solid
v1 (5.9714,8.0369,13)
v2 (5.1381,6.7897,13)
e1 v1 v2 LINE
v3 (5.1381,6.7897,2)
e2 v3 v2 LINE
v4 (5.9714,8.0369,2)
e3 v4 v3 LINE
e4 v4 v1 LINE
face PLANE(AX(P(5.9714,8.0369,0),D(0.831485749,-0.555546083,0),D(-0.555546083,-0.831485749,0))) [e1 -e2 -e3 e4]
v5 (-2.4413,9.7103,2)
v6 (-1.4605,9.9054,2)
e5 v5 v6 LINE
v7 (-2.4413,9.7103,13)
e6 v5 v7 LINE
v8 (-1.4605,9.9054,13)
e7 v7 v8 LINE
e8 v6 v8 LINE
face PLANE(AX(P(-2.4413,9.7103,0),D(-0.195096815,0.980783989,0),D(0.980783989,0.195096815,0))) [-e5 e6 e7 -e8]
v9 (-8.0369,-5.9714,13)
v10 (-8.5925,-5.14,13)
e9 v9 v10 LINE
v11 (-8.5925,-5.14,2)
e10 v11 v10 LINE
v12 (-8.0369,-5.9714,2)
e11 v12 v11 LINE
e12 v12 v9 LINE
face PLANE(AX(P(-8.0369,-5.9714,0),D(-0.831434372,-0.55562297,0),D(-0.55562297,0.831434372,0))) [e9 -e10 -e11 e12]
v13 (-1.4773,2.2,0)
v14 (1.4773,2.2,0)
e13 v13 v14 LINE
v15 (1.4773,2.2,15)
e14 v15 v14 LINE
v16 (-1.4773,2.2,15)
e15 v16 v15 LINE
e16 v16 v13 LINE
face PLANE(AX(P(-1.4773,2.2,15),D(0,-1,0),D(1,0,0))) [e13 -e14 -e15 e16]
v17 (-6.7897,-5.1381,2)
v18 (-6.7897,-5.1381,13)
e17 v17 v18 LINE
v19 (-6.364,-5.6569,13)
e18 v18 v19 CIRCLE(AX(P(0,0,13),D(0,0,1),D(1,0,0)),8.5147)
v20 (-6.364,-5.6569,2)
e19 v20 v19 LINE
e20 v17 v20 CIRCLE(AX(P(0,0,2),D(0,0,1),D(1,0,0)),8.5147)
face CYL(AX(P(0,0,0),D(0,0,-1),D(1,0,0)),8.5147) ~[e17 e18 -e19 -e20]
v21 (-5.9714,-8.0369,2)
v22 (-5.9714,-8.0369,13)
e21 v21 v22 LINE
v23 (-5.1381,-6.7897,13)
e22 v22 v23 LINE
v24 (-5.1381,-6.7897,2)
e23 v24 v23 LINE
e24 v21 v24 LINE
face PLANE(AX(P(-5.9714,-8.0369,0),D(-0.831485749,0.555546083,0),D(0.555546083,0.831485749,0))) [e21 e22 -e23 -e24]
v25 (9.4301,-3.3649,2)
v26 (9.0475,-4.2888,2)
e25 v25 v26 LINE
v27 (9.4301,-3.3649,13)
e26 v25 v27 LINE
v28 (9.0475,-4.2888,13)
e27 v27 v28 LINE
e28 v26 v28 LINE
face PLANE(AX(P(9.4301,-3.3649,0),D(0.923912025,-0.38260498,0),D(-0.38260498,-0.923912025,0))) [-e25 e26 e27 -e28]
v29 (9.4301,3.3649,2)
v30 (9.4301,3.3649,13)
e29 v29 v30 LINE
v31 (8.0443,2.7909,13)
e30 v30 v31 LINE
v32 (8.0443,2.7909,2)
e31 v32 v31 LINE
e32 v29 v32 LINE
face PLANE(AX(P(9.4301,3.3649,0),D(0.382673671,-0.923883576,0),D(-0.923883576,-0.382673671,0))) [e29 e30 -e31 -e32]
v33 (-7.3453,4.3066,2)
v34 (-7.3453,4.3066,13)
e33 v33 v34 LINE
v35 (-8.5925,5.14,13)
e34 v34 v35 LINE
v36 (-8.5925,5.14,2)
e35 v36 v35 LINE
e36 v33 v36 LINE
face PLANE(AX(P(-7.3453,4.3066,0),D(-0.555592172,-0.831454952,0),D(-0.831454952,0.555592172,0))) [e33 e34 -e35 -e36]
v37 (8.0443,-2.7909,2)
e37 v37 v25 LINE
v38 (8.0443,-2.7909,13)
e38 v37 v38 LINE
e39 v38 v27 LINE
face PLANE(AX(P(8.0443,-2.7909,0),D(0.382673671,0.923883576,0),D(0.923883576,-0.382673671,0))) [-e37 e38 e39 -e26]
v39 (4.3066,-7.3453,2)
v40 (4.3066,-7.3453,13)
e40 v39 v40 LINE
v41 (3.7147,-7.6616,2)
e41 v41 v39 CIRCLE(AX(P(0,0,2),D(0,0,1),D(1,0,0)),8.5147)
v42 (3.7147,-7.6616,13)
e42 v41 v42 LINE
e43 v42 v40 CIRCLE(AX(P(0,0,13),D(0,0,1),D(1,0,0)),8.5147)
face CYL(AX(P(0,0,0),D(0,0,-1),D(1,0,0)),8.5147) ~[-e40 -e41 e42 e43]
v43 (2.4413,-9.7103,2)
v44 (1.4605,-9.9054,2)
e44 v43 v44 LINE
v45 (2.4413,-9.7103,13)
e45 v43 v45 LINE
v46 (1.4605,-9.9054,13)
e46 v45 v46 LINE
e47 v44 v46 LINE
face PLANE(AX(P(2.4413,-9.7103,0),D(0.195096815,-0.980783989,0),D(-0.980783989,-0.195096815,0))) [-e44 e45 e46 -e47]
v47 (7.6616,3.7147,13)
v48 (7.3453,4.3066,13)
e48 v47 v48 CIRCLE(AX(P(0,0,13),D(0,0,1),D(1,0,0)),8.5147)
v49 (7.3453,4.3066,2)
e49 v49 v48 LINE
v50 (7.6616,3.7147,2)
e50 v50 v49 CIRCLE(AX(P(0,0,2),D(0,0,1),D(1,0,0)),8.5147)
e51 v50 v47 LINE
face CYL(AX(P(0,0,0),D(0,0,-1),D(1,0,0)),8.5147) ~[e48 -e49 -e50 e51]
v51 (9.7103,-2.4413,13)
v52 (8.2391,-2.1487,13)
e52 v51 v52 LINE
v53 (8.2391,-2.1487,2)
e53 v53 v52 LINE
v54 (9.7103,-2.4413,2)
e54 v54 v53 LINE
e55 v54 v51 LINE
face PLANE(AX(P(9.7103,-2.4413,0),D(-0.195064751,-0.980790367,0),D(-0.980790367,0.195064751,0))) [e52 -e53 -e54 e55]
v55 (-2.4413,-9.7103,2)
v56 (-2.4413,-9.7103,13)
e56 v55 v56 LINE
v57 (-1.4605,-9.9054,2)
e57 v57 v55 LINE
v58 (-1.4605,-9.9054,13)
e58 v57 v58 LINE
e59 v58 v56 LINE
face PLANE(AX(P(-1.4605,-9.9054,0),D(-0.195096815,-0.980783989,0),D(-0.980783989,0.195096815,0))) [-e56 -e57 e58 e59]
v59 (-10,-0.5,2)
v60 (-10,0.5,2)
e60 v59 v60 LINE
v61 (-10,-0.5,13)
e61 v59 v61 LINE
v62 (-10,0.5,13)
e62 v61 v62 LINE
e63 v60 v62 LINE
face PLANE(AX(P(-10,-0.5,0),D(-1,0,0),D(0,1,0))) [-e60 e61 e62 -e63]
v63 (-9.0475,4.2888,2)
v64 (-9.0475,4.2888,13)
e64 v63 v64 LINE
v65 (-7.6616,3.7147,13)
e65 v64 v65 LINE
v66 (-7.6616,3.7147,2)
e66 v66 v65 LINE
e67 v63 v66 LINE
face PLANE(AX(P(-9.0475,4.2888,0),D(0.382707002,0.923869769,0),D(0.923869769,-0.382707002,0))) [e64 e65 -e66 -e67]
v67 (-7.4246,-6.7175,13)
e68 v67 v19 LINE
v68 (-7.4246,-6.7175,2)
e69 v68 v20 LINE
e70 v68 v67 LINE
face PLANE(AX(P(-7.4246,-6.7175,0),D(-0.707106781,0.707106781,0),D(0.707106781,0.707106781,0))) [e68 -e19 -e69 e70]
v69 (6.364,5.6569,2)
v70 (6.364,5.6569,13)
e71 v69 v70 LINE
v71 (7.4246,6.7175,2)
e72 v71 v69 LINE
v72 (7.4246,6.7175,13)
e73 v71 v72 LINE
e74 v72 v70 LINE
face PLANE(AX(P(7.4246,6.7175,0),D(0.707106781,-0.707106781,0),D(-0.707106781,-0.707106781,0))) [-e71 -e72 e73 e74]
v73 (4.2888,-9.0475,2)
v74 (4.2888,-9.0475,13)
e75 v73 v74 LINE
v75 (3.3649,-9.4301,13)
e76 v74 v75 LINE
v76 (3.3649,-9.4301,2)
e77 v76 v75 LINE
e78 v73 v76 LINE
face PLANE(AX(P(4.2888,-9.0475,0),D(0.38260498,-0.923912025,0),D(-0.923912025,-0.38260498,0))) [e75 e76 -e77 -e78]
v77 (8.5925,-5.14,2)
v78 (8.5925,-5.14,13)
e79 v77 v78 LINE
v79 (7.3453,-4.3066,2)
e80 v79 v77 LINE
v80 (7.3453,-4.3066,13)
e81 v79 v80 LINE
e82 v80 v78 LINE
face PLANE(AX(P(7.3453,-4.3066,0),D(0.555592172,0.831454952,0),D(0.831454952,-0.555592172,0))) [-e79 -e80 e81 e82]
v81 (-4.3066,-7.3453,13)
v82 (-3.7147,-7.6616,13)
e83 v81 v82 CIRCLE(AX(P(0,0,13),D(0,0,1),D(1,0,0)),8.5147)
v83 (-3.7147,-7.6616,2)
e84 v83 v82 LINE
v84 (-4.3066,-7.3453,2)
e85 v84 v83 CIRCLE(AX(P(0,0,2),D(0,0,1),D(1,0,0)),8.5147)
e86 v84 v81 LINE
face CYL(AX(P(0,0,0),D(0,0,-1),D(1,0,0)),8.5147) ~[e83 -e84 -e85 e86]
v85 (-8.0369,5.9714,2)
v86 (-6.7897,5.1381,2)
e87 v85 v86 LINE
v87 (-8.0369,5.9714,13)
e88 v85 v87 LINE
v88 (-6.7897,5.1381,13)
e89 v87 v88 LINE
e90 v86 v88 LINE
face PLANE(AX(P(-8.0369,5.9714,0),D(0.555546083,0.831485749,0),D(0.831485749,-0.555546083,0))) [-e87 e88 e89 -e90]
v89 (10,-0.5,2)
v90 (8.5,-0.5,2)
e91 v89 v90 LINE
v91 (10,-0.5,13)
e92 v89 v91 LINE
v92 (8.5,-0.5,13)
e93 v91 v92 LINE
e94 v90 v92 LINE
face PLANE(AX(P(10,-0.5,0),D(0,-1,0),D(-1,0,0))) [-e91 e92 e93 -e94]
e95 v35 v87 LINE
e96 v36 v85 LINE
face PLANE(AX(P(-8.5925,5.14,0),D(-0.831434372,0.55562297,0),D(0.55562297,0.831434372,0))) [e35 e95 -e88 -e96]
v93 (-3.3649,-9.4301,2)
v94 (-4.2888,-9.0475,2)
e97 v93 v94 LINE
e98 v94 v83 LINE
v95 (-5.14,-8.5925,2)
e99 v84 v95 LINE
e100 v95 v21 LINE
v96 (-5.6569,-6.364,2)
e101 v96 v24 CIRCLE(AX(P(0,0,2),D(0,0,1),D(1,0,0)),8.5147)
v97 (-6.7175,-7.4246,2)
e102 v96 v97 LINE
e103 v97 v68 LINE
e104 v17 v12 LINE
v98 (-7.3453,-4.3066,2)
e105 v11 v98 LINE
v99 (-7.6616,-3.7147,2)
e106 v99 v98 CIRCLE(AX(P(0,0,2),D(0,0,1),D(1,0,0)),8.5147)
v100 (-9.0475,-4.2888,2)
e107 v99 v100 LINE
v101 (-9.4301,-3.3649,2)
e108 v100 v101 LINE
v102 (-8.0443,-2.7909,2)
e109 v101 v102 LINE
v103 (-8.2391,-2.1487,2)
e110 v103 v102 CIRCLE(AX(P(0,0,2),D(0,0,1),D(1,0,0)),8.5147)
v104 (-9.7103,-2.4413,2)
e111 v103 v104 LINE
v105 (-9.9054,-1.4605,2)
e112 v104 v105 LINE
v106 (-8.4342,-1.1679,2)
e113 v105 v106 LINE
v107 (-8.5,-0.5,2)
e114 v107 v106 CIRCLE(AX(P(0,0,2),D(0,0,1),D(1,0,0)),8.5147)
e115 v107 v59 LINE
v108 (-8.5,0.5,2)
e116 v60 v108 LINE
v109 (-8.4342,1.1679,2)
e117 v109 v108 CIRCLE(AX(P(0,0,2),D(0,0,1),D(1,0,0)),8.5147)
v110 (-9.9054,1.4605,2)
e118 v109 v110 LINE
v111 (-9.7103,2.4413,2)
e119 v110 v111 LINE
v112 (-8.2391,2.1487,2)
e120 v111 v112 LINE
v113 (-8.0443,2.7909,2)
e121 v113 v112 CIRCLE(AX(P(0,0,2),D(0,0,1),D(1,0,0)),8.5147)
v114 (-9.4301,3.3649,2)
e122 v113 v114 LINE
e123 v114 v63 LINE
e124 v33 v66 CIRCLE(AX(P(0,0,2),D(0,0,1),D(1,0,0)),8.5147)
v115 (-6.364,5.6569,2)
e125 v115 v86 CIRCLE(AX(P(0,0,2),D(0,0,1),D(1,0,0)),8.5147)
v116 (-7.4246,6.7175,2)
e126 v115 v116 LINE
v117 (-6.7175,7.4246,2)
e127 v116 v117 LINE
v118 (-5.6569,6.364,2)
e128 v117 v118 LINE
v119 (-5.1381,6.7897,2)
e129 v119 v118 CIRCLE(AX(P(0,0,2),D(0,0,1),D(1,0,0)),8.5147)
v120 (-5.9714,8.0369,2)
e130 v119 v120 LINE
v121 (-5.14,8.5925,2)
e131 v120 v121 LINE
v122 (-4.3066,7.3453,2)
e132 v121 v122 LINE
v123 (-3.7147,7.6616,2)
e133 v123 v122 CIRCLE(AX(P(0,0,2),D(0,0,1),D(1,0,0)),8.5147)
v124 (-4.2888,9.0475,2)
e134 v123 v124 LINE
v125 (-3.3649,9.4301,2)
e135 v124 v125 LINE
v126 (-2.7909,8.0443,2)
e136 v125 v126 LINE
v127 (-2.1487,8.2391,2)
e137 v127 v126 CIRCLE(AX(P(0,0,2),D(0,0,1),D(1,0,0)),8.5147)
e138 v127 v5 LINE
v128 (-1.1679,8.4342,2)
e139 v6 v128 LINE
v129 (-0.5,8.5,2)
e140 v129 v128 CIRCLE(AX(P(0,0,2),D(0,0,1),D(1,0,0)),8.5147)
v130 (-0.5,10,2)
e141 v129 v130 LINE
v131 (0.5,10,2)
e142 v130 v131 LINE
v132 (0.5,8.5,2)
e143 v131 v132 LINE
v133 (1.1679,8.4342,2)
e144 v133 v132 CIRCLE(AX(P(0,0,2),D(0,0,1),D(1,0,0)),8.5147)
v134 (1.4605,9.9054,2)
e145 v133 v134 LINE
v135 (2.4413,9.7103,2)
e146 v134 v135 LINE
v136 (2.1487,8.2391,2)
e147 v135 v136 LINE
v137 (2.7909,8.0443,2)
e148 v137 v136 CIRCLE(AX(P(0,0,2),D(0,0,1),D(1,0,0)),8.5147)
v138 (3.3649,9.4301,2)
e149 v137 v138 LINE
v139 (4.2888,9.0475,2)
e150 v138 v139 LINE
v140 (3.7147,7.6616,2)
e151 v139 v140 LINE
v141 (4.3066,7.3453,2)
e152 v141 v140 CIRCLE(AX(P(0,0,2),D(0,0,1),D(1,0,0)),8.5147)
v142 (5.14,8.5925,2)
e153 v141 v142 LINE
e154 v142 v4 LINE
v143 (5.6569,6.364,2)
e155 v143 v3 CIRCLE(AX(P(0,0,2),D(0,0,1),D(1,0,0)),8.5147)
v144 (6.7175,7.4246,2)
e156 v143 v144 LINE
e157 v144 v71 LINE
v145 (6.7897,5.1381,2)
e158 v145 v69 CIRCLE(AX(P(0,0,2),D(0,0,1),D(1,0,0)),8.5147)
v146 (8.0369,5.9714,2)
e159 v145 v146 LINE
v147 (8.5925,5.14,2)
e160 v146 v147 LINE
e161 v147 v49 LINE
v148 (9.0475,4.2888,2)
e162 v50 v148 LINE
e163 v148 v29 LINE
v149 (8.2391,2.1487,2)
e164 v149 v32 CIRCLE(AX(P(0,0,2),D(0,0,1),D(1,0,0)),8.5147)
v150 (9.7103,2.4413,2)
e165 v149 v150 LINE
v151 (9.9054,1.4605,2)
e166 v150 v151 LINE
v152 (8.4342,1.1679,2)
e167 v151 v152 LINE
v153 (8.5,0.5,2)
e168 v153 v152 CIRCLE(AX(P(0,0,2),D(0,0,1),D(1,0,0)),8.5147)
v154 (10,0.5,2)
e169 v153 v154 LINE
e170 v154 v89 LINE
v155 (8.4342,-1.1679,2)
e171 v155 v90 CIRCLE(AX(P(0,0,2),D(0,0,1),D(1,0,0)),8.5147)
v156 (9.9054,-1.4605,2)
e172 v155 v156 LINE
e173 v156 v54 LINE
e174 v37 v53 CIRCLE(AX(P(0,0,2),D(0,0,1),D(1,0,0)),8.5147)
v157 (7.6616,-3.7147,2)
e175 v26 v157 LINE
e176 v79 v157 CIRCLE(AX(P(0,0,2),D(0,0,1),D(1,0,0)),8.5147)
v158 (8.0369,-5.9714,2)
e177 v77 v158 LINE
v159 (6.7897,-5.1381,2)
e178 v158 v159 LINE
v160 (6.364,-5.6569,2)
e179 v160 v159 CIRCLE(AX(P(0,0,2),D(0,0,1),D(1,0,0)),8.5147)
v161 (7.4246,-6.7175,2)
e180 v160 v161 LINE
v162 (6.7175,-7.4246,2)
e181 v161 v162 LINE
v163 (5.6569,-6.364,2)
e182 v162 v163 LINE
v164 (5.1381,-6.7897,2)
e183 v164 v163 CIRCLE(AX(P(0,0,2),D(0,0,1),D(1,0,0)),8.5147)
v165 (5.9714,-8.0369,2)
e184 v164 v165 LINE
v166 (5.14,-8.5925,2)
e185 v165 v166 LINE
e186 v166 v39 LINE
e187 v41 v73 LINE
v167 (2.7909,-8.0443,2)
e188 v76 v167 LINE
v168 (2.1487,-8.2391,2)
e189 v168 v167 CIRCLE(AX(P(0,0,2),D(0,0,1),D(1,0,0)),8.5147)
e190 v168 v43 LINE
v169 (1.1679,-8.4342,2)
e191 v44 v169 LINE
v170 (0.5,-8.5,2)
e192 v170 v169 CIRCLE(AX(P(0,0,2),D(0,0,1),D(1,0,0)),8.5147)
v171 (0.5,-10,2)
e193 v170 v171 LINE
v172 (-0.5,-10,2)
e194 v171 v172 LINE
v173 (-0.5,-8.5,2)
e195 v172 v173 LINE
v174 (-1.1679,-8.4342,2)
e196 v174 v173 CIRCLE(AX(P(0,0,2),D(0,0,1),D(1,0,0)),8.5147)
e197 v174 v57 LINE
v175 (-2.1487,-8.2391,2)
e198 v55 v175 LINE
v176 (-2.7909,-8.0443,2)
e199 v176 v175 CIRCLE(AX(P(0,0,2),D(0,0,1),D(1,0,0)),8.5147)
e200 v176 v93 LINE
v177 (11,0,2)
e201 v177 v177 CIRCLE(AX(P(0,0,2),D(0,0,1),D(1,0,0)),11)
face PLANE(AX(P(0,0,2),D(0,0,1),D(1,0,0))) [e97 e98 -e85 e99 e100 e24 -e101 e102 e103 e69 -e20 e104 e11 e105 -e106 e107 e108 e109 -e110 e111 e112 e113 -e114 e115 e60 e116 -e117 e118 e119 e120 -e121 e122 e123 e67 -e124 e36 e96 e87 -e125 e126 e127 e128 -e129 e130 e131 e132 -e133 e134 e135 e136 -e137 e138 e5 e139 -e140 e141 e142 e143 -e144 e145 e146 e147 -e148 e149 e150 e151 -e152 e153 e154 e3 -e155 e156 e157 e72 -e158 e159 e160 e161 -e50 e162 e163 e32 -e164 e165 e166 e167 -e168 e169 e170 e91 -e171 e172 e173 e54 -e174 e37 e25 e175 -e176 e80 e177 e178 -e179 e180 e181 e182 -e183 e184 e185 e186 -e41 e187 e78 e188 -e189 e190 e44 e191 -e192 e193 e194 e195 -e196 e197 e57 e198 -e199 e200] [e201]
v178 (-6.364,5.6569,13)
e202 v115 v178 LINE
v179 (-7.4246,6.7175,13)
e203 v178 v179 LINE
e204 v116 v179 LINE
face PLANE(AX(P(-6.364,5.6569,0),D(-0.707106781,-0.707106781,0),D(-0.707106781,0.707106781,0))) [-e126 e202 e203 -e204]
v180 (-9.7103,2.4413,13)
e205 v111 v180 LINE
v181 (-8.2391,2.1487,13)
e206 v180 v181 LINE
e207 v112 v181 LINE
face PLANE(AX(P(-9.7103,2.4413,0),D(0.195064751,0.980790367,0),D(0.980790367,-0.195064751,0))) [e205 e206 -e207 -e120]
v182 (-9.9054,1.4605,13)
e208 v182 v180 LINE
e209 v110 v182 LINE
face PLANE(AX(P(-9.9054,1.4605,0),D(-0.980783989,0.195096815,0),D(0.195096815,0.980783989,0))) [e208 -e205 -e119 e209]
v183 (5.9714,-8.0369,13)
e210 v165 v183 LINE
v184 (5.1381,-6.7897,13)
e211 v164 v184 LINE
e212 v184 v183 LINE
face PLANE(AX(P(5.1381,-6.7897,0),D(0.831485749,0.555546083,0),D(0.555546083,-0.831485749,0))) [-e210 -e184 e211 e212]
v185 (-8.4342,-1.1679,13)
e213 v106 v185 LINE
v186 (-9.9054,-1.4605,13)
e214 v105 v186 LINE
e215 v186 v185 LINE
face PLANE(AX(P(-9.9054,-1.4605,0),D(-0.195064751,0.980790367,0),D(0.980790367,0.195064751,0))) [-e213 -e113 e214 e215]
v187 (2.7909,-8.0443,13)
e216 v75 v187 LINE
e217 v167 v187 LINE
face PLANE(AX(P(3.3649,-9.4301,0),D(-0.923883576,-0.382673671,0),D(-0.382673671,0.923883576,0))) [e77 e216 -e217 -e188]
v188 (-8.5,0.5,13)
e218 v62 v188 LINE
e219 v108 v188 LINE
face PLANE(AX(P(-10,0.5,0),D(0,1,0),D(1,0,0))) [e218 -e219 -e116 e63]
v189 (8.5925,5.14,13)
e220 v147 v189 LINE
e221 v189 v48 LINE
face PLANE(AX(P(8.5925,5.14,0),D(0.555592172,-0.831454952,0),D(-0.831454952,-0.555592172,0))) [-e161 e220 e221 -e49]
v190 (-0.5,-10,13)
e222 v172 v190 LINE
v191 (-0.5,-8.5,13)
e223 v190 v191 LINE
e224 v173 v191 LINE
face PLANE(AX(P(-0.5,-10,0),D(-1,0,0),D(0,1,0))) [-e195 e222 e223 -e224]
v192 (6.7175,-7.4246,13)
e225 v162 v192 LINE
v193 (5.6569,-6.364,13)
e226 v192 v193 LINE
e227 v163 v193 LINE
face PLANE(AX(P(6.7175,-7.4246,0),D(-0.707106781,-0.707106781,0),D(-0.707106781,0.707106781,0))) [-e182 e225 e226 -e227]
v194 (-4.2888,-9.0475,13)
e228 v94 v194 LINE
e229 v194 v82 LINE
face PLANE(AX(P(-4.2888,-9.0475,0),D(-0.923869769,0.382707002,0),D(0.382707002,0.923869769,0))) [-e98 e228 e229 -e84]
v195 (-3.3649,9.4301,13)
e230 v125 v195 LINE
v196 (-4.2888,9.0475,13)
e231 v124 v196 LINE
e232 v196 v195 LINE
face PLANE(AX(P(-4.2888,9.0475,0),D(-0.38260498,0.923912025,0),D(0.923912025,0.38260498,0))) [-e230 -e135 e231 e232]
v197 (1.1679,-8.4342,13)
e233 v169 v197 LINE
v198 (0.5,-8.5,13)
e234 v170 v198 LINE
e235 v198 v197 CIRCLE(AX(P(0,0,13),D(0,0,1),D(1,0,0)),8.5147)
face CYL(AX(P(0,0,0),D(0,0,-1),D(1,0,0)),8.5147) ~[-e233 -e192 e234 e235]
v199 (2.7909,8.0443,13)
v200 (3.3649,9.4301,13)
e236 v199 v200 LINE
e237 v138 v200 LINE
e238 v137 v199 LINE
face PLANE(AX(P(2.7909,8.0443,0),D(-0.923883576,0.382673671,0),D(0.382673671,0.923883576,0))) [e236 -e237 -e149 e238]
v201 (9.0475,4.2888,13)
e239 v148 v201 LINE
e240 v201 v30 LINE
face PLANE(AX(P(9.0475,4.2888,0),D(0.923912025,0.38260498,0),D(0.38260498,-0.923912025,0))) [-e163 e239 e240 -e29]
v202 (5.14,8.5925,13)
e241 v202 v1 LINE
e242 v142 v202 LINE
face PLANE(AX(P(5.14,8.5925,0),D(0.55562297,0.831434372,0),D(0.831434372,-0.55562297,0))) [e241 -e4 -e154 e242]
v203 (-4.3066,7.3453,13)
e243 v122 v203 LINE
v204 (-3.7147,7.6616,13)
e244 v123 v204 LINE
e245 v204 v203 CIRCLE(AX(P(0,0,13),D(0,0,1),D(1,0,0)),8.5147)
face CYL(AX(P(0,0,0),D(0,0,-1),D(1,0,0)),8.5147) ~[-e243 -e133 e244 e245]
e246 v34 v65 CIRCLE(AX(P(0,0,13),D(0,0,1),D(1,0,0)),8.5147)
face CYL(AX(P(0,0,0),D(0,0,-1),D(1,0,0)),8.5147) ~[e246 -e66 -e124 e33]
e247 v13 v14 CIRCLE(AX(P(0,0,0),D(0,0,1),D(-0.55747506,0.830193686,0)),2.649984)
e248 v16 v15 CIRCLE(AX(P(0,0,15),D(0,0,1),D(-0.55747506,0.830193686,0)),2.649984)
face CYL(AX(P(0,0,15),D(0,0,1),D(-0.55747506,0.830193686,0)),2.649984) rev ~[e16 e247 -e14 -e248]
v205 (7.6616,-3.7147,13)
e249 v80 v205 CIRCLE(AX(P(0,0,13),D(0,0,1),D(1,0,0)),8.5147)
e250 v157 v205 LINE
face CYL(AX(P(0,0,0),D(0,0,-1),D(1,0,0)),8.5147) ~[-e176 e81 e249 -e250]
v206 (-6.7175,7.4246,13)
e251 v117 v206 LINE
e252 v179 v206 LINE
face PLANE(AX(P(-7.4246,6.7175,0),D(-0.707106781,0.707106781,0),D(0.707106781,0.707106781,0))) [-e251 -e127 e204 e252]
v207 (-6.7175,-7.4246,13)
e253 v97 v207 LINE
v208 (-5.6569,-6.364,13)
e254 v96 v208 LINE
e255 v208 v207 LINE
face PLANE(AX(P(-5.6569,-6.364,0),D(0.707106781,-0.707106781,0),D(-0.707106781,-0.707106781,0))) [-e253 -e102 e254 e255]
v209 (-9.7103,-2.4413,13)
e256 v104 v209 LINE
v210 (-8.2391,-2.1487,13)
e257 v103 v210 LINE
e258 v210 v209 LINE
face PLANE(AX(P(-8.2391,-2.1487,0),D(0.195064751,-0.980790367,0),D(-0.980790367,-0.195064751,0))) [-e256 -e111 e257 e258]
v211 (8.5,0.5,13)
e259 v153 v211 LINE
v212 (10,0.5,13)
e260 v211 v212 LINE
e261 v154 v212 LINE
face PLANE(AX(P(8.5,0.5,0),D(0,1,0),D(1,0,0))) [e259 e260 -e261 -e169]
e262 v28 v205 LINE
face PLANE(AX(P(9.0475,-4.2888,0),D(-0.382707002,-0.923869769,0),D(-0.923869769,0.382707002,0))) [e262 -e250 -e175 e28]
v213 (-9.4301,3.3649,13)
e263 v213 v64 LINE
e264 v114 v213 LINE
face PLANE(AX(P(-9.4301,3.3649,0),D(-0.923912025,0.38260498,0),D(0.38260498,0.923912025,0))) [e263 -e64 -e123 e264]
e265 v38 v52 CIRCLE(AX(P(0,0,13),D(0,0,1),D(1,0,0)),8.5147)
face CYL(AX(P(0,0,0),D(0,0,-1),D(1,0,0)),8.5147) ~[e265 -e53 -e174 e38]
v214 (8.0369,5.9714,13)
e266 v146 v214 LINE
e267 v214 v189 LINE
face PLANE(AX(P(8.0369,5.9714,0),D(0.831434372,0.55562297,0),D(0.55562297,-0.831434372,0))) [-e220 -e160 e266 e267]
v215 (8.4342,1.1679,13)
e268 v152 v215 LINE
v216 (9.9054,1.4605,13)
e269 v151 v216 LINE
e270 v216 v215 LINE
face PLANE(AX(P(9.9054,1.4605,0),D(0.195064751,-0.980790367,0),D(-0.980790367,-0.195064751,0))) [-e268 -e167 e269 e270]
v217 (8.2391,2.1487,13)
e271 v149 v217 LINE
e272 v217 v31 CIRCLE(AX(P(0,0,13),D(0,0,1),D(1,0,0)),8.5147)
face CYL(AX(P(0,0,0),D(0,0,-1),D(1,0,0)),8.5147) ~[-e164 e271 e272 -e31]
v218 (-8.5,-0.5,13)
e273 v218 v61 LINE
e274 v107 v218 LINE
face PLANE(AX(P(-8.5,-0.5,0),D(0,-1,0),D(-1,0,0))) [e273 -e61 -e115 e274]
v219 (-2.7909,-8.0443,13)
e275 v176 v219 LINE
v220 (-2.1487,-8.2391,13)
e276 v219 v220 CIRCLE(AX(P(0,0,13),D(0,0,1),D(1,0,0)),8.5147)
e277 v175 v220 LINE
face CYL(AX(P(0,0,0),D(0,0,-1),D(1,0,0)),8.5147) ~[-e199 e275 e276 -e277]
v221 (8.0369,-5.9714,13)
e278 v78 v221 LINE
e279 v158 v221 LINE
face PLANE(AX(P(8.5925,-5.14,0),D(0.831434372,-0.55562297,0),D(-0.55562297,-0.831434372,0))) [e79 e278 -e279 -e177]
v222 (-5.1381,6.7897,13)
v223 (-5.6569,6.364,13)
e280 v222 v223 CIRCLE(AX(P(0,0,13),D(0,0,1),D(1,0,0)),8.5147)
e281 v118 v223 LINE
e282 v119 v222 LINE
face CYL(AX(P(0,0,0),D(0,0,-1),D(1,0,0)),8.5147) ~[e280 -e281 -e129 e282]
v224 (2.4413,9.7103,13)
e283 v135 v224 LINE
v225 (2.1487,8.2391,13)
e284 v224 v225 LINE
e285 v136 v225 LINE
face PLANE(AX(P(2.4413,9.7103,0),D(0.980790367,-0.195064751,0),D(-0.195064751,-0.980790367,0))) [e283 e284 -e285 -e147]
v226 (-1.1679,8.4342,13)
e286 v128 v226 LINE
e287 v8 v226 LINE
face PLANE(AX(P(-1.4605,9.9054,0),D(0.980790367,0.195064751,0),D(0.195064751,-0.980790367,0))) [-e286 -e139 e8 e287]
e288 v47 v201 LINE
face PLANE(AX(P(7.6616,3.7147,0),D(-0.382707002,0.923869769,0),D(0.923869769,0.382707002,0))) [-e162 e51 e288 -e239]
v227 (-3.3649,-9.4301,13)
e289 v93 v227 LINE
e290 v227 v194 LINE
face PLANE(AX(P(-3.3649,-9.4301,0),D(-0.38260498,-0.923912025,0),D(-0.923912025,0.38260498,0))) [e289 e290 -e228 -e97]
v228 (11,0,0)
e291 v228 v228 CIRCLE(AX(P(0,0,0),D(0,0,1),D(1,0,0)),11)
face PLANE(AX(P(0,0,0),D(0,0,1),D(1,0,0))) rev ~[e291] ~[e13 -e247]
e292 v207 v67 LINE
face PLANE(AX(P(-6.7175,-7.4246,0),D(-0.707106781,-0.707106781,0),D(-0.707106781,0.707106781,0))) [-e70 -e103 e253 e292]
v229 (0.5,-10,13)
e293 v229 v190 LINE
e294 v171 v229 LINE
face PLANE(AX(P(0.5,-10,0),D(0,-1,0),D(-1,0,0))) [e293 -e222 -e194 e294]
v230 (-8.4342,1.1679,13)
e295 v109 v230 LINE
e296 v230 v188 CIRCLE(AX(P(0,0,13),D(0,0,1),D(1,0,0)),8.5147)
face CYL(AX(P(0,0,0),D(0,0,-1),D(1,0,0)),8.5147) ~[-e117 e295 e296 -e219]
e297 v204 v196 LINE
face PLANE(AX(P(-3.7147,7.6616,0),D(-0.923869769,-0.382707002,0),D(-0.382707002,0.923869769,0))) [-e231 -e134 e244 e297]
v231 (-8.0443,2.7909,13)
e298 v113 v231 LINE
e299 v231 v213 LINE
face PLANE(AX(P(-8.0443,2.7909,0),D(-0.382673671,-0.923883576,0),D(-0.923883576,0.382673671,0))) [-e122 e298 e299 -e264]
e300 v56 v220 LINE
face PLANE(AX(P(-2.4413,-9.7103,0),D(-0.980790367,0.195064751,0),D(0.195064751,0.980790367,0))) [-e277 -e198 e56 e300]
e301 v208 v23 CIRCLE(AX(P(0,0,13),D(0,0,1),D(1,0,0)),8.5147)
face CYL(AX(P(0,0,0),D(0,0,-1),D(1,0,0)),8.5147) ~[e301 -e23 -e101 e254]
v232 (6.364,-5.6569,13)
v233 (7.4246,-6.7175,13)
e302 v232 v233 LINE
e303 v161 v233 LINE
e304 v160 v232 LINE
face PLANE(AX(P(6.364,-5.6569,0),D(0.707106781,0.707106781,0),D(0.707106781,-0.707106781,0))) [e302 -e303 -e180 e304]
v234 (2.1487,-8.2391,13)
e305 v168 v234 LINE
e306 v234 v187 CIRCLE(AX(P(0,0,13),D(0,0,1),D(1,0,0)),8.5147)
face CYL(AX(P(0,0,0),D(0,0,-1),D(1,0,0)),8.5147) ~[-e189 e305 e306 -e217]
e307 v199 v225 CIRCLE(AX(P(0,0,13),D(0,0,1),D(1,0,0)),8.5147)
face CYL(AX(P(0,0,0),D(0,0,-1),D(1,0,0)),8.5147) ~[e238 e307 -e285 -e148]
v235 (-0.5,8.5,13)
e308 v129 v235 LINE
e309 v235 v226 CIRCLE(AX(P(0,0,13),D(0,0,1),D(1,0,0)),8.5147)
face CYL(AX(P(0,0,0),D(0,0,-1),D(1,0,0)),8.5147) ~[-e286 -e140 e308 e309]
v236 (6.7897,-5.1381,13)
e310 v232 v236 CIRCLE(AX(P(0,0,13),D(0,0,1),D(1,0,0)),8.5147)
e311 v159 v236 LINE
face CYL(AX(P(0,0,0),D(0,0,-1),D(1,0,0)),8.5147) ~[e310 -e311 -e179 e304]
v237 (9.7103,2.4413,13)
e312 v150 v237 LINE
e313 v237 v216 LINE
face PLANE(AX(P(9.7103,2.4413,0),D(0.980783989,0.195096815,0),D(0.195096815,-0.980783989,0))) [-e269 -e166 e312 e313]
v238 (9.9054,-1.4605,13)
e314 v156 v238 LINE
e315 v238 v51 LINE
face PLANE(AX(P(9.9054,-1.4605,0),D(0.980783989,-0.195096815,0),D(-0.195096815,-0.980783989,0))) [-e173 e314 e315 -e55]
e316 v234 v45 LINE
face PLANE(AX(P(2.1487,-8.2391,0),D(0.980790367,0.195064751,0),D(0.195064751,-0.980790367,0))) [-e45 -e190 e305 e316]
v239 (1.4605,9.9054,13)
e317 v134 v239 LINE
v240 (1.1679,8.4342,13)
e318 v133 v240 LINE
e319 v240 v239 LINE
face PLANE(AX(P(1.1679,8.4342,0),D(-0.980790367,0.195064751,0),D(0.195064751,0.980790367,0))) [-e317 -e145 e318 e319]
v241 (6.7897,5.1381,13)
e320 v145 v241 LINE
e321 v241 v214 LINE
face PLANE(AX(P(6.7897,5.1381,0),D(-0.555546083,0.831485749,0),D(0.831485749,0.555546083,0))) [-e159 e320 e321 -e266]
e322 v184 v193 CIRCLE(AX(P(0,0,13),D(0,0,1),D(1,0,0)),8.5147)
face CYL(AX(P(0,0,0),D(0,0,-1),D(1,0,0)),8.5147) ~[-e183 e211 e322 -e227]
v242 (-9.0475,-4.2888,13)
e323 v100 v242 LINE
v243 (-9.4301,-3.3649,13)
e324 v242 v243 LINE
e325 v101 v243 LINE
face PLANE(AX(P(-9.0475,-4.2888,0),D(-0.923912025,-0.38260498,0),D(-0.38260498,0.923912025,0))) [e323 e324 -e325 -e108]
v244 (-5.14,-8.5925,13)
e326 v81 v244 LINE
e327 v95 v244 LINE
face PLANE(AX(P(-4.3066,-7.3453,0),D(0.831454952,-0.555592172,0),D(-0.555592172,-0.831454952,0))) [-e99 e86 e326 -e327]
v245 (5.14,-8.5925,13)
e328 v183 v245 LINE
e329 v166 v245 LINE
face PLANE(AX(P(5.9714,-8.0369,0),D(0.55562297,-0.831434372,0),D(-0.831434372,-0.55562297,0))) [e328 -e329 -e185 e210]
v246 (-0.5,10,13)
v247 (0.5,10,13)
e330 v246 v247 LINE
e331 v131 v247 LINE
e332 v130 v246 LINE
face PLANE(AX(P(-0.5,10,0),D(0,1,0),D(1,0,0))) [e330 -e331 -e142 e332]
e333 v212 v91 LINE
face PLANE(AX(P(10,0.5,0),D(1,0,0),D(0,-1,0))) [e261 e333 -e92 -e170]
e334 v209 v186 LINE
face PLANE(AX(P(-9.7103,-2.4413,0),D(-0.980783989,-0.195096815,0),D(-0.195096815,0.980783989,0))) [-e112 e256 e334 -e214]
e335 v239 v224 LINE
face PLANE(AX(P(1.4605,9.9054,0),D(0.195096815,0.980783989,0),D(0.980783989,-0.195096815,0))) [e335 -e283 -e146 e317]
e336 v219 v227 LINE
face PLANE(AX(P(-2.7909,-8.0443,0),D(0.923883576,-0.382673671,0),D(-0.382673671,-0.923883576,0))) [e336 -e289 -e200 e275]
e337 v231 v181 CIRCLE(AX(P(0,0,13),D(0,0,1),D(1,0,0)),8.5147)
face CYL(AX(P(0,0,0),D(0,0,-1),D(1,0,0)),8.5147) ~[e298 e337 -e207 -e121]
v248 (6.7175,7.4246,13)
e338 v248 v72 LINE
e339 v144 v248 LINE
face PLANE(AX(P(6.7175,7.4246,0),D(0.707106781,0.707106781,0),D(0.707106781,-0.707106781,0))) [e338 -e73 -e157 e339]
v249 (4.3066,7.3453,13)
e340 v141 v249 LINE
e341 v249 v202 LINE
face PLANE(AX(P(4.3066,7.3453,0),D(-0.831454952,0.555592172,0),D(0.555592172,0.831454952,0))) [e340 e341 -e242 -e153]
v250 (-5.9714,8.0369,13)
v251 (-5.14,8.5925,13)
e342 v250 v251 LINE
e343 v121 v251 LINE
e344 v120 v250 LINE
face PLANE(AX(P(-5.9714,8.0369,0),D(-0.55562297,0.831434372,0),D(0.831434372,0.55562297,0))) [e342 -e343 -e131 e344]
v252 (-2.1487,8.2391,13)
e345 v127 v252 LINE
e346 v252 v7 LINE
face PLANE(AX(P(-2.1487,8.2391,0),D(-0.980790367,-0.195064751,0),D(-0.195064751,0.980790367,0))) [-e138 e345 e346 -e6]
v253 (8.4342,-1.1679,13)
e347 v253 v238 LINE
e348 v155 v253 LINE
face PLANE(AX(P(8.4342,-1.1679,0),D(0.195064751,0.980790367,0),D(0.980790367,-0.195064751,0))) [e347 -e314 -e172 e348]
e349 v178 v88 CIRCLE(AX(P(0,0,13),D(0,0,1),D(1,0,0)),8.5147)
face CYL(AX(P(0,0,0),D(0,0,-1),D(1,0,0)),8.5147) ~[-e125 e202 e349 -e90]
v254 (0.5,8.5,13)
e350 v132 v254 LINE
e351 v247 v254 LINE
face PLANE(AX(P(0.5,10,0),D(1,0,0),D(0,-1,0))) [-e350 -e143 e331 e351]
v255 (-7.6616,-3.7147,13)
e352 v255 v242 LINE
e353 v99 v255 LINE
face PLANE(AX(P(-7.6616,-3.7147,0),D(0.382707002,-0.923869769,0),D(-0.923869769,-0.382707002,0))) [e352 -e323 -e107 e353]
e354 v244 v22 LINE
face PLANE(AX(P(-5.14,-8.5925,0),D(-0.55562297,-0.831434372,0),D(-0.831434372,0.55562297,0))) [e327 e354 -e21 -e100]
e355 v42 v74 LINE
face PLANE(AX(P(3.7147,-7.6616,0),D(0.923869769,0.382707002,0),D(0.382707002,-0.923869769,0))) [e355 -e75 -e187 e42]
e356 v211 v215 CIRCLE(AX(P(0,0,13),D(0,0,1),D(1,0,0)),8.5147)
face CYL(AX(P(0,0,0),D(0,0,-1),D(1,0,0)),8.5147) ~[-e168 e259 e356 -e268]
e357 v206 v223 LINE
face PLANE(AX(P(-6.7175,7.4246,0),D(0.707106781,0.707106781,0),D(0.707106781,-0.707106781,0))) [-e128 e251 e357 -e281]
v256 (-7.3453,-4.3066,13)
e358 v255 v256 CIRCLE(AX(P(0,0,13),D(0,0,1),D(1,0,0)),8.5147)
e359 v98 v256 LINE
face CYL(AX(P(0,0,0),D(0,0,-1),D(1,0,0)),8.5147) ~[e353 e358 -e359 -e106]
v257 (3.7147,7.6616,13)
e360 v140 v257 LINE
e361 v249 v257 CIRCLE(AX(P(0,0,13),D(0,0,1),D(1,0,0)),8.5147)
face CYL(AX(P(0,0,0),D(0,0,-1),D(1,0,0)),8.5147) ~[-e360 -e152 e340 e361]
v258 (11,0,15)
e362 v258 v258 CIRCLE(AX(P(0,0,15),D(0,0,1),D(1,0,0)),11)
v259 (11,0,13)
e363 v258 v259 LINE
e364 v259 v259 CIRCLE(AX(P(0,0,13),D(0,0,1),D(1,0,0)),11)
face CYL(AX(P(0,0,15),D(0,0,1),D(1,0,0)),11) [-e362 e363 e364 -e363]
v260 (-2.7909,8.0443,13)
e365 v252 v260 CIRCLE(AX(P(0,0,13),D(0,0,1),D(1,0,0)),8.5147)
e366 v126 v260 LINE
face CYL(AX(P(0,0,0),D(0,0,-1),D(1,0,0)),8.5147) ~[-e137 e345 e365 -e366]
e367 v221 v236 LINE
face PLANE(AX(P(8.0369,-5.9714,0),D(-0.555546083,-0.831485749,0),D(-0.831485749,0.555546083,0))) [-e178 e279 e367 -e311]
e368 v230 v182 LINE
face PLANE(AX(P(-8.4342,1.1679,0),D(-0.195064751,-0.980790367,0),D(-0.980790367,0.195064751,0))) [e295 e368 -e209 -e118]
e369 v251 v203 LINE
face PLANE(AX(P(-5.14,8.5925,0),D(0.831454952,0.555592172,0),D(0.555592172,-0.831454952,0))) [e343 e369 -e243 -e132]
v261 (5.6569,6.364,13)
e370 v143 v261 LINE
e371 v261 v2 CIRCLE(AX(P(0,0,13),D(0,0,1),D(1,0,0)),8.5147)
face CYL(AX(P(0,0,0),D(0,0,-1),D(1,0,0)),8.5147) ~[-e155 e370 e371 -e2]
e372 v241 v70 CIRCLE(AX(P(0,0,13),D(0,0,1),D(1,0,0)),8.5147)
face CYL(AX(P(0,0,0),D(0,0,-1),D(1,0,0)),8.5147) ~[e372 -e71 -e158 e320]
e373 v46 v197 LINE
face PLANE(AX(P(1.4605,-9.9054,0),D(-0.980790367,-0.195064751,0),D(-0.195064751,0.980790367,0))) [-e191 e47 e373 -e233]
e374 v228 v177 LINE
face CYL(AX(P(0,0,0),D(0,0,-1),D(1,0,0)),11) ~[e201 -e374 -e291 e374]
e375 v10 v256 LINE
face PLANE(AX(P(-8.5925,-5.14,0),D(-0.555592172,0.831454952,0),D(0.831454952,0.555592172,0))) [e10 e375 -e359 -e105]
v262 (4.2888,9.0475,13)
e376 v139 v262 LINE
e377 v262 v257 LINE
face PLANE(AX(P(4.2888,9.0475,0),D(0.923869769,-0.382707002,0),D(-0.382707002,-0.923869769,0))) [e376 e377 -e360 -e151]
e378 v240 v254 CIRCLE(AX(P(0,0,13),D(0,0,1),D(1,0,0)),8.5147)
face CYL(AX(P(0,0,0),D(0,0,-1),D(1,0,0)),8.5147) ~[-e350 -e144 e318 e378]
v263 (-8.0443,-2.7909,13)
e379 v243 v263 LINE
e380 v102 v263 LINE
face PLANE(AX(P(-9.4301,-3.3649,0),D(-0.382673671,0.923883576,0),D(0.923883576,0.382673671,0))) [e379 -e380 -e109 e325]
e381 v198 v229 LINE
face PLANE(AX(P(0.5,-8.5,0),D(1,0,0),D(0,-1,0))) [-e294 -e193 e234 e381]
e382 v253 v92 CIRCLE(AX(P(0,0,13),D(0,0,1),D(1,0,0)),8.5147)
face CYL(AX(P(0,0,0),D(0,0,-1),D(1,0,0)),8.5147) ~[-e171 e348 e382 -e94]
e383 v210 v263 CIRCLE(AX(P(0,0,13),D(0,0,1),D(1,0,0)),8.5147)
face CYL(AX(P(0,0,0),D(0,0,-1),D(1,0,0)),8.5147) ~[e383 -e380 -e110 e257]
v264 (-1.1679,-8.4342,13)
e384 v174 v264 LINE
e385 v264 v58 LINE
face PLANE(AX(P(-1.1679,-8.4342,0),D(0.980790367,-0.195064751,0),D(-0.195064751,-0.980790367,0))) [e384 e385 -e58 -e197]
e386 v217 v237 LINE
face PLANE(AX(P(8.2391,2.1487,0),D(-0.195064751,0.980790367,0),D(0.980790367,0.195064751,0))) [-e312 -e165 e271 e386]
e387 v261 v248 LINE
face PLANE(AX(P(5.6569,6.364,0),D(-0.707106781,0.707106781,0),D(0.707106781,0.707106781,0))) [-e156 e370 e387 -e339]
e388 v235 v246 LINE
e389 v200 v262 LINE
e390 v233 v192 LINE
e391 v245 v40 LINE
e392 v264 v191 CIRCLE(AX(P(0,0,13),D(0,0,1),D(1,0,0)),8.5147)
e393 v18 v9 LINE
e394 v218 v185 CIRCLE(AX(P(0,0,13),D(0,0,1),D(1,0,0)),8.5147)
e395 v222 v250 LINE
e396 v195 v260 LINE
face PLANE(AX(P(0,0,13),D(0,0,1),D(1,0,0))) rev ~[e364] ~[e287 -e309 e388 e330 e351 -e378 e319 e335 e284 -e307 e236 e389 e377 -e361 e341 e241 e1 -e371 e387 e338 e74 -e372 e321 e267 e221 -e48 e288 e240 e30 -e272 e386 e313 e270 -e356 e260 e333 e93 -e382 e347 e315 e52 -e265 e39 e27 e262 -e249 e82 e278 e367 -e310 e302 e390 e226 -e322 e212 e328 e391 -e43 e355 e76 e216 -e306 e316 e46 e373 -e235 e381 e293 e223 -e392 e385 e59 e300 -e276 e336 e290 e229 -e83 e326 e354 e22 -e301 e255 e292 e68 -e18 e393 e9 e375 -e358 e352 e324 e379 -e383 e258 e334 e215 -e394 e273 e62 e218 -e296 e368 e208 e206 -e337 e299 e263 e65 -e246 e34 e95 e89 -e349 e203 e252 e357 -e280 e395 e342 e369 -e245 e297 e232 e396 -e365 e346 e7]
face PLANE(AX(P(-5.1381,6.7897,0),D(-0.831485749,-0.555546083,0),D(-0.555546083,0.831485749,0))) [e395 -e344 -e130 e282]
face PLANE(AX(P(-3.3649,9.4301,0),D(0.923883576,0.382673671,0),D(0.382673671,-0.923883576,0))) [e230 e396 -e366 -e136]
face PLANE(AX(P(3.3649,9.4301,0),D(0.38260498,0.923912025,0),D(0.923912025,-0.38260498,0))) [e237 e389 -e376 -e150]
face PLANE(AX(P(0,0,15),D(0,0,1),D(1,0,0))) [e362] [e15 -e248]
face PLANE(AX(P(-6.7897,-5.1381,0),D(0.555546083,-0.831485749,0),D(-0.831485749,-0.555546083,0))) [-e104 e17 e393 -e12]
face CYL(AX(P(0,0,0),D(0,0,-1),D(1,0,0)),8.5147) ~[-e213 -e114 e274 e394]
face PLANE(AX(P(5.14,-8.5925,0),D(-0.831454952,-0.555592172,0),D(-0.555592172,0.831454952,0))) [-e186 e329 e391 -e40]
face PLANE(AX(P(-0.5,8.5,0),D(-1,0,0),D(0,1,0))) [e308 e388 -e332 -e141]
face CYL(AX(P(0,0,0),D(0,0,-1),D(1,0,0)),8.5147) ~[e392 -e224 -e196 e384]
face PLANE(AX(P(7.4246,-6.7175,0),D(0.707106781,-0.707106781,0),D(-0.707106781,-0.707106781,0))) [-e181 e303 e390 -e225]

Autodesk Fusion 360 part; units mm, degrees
sketch "Sketch1" plane through (0, 0, 0) normal (0, 0, 1) x (1, 0, 0)
  line L0 (0, 0) -> (0, 8.5) construction
  line L1 (0.5, 8.5) -> (-0.5, 8.5)
  line L2 (-0.5, 8.5) -> (-0.5, 10)
  line L3 (-0.5, 10) -> (0.5, 10)
  line L4 (0.5, 10) -> (0.5, 8.5)
  line L5 (-1.4605, 9.9054) -> (-1.1679, 8.4342)
  line L6 (-2.4413, 9.7103) -> (-1.4605, 9.9054)
  line L7 (-2.1487, 8.2391) -> (-2.4413, 9.7103)
  line L8 (-3.3649, 9.4301) -> (-2.7909, 8.0443)
  line L9 (-4.2888, 9.0475) -> (-3.3649, 9.4301)
  line L10 (-3.7147, 7.6616) -> (-4.2888, 9.0475)
  line L11 (-5.14, 8.5925) -> (-4.3066, 7.3453)
  line L12 (-5.9714, 8.0369) -> (-5.14, 8.5925)
  line L13 (-5.1381, 6.7897) -> (-5.9714, 8.0369)
  line L14 (-6.7175, 7.4246) -> (-5.6569, 6.364)
  line L15 (-7.4246, 6.7175) -> (-6.7175, 7.4246)
  line L16 (-6.364, 5.6569) -> (-7.4246, 6.7175)
  line L17 (-8.0369, 5.9714) -> (-6.7897, 5.1381)
  line L18 (-8.5925, 5.14) -> (-8.0369, 5.9714)
  line L19 (-7.3453, 4.3066) -> (-8.5925, 5.14)
  line L20 (-9.0475, 4.2888) -> (-7.6616, 3.7147)
  line L21 (-9.4301, 3.3649) -> (-9.0475, 4.2888)
  line L22 (-8.0443, 2.7909) -> (-9.4301, 3.3649)
  line L23 (-9.7103, 2.4413) -> (-8.2391, 2.1487)
  line L24 (-9.9054, 1.4605) -> (-9.7103, 2.4413)
  line L25 (-8.4342, 1.1679) -> (-9.9054, 1.4605)
  line L26 (-10, 0.5) -> (-8.5, 0.5)
  line L27 (-10, -0.5) -> (-10, 0.5)
  line L28 (-8.5, -0.5) -> (-10, -0.5)
  line L29 (-9.9054, -1.4605) -> (-8.4342, -1.1679)
  line L30 (-9.7103, -2.4413) -> (-9.9054, -1.4605)
  line L31 (-8.2391, -2.1487) -> (-9.7103, -2.4413)
  line L32 (-9.4301, -3.3649) -> (-8.0443, -2.7909)
  line L33 (-9.0475, -4.2888) -> (-9.4301, -3.3649)
  line L34 (-7.6616, -3.7147) -> (-9.0475, -4.2888)
  line L35 (-8.5925, -5.14) -> (-7.3453, -4.3066)
  line L36 (-8.0369, -5.9714) -> (-8.5925, -5.14)
  line L37 (-6.7897, -5.1381) -> (-8.0369, -5.9714)
  line L38 (-7.4246, -6.7175) -> (-6.364, -5.6569)
  line L39 (-6.7175, -7.4246) -> (-7.4246, -6.7175)
  line L40 (-5.6569, -6.364) -> (-6.7175, -7.4246)
  line L41 (-5.9714, -8.0369) -> (-5.1381, -6.7897)
  line L42 (-5.14, -8.5925) -> (-5.9714, -8.0369)
  line L43 (-4.3066, -7.3453) -> (-5.14, -8.5925)
  line L44 (-4.2888, -9.0475) -> (-3.7147, -7.6616)
  line L45 (-3.3649, -9.4301) -> (-4.2888, -9.0475)
  line L46 (-2.7909, -8.0443) -> (-3.3649, -9.4301)
  line L47 (-2.4413, -9.7103) -> (-2.1487, -8.2391)
  line L48 (-1.4605, -9.9054) -> (-2.4413, -9.7103)
  line L49 (-1.1679, -8.4342) -> (-1.4605, -9.9054)
  line L50 (-0.5, -10) -> (-0.5, -8.5)
  line L51 (0.5, -10) -> (-0.5, -10)
  line L52 (0.5, -8.5) -> (0.5, -10)
  line L53 (1.4605, -9.9054) -> (1.1679, -8.4342)
  line L54 (2.4413, -9.7103) -> (1.4605, -9.9054)
  line L55 (2.1487, -8.2391) -> (2.4413, -9.7103)
  line L56 (3.3649, -9.4301) -> (2.7909, -8.0443)
  line L57 (4.2888, -9.0475) -> (3.3649, -9.4301)
  line L58 (3.7147, -7.6616) -> (4.2888, -9.0475)
  line L59 (5.14, -8.5925) -> (4.3066, -7.3453)
  line L60 (5.9714, -8.0369) -> (5.14, -8.5925)
  line L61 (5.1381, -6.7897) -> (5.9714, -8.0369)
  line L62 (6.7175, -7.4246) -> (5.6569, -6.364)
  line L63 (7.4246, -6.7175) -> (6.7175, -7.4246)
  line L64 (6.364, -5.6569) -> (7.4246, -6.7175)
  line L65 (8.0369, -5.9714) -> (6.7897, -5.1381)
  line L66 (8.5925, -5.14) -> (8.0369, -5.9714)
  line L67 (7.3453, -4.3066) -> (8.5925, -5.14)
  line L68 (9.0475, -4.2888) -> (7.6616, -3.7147)
  line L69 (9.4301, -3.3649) -> (9.0475, -4.2888)
  line L70 (8.0443, -2.7909) -> (9.4301, -3.3649)
  line L71 (9.7103, -2.4413) -> (8.2391, -2.1487)
  line L72 (9.9054, -1.4605) -> (9.7103, -2.4413)
  line L73 (8.4342, -1.1679) -> (9.9054, -1.4605)
  line L74 (10, -0.5) -> (8.5, -0.5)
  line L75 (10, 0.5) -> (10, -0.5)
  line L76 (8.5, 0.5) -> (10, 0.5)
  line L77 (9.9054, 1.4605) -> (8.4342, 1.1679)
  line L78 (9.7103, 2.4413) -> (9.9054, 1.4605)
  line L79 (8.2391, 2.1487) -> (9.7103, 2.4413)
  line L80 (9.4301, 3.3649) -> (8.0443, 2.7909)
  line L81 (9.0475, 4.2888) -> (9.4301, 3.3649)
  line L82 (7.6616, 3.7147) -> (9.0475, 4.2888)
  line L83 (8.5925, 5.14) -> (7.3453, 4.3066)
  line L84 (8.0369, 5.9714) -> (8.5925, 5.14)
  line L85 (6.7897, 5.1381) -> (8.0369, 5.9714)
  line L86 (7.4246, 6.7175) -> (6.364, 5.6569)
  line L87 (6.7175, 7.4246) -> (7.4246, 6.7175)
  line L88 (5.6569, 6.364) -> (6.7175, 7.4246)
  line L89 (5.9714, 8.0369) -> (5.1381, 6.7897)
  line L90 (5.14, 8.5925) -> (5.9714, 8.0369)
  line L91 (4.3066, 7.3453) -> (5.14, 8.5925)
  line L92 (4.2888, 9.0475) -> (3.7147, 7.6616)
  line L93 (3.3649, 9.4301) -> (4.2888, 9.0475)
  line L94 (2.7909, 8.0443) -> (3.3649, 9.4301)
  line L95 (2.4413, 9.7103) -> (2.1487, 8.2391)
  line L96 (1.4605, 9.9054) -> (2.4413, 9.7103)
  line L97 (1.1679, 8.4342) -> (1.4605, 9.9054)
  circle A0 centre (0, 0) radius 8.5147
  circle A1 centre (0, 0) radius 11
  dimension "d2" = 1
  dimension "d3" = 1.5
  dimension "d5" = 360
  dimension "d11" = 10
  dimension "d13" = 22
extrude "Extrude1" add sketch "Sketch1" along normal blind 15 contours L1 A0 | L2 L3 L4 A0 | L1 A0 | L95 L96 L97 A0 | L5 L6 L7 A0 | L92 L93 L94 A0 | L8 L9 L10 A0 | L89 L90 L91 A0 | L11 L12 L13 A0 | L86 L87 L88 A0 | L14 L15 L16 A0 | L83 L84 L85 A0 | L17 L18 L19 A0 | L80 L81 L82 A0 | L20 L21 L22 A0 | L77 L78 L79 A0 | L23 L24 L25 A0 | L74 L75 L76 A0 | L26 L27 L28 A0 | L29 L30 L31 A0 | L71 L72 L73 A0 | L32 L33 L34 A0 | L68 L69 L70 A0 | L35 L36 L37 A0 | L65 L66 L67 A0 | L38 L39 L40 A0 | L62 L63 L64 A0 | L41 L42 L43 A0 | L59 L60 L61 A0 | L44 L45 L46 A0 | L56 L57 L58 A0 | L47 L48 L49 A0 | L53 L54 L55 A0 | L50 L51 L52 A0
sketch "Sketch2" plane through (0, 0, 15) normal (0, 0, 1) x (-1, 0, 0)
  arc A0 (-8.2391, -2.1487) -> (-8.0443, -2.7909) centre (0, 0) ccw
  line L0 (-8.0443, -2.7909) -> (-9.4301, -3.3649)
  line L1 (-9.4301, -3.3649) -> (-9.0475, -4.2888)
  line L2 (-9.0475, -4.2888) -> (-7.6616, -3.7147)
  arc A1 (-7.6616, -3.7147) -> (-7.3453, -4.3066) centre (0, 0) ccw
  line L3 (-7.3453, -4.3066) -> (-8.5925, -5.14)
  line L4 (-8.5925, -5.14) -> (-8.0369, -5.9714)
  line L5 (-8.0369, -5.9714) -> (-6.7897, -5.1381)
  arc A2 (-6.7897, -5.1381) -> (-6.364, -5.6569) centre (0, 0) ccw
  line L6 (-6.364, -5.6569) -> (-7.4246, -6.7175)
  line L7 (-7.4246, -6.7175) -> (-6.7175, -7.4246)
  line L8 (-6.7175, -7.4246) -> (-5.6569, -6.364)
  arc A3 (-5.6569, -6.364) -> (-5.1381, -6.7897) centre (0, 0) ccw
  line L9 (-5.1381, -6.7897) -> (-5.9714, -8.0369)
  line L10 (-5.9714, -8.0369) -> (-5.14, -8.5925)
  line L11 (-5.14, -8.5925) -> (-4.3066, -7.3453)
  arc A4 (-4.3066, -7.3453) -> (-3.7147, -7.6616) centre (0, 0) ccw
  line L12 (-3.7147, -7.6616) -> (-4.2888, -9.0475)
  line L13 (-4.2888, -9.0475) -> (-3.3649, -9.4301)
  line L14 (-3.3649, -9.4301) -> (-2.7909, -8.0443)
  arc A5 (-2.7909, -8.0443) -> (-2.1487, -8.2391) centre (0, 0) ccw
  line L15 (-2.1487, -8.2391) -> (-2.4413, -9.7103)
  line L16 (-2.4413, -9.7103) -> (-1.4605, -9.9054)
  line L17 (-1.4605, -9.9054) -> (-1.1679, -8.4342)
  arc A6 (-1.1679, -8.4342) -> (-0.5, -8.5) centre (0, 0) ccw
  line L18 (-0.5, -8.5) -> (-0.5, -10)
  line L19 (-0.5, -10) -> (0.5, -10)
  line L20 (0.5, -10) -> (0.5, -8.5)
  arc A7 (0.5, -8.5) -> (1.1679, -8.4342) centre (0, 0) ccw
  line L21 (1.1679, -8.4342) -> (1.4605, -9.9054)
  line L22 (1.4605, -9.9054) -> (2.4413, -9.7103)
  line L23 (2.4413, -9.7103) -> (2.1487, -8.2391)
  arc A8 (2.1487, -8.2391) -> (2.7909, -8.0443) centre (0, 0) ccw
  line L24 (2.7909, -8.0443) -> (3.3649, -9.4301)
  line L25 (3.3649, -9.4301) -> (4.2888, -9.0475)
  line L26 (4.2888, -9.0475) -> (3.7147, -7.6616)
  arc A9 (3.7147, -7.6616) -> (4.3066, -7.3453) centre (0, 0) ccw
  line L27 (4.3066, -7.3453) -> (5.14, -8.5925)
  line L28 (5.14, -8.5925) -> (5.9714, -8.0369)
  line L29 (5.9714, -8.0369) -> (5.1381, -6.7897)
  arc A10 (5.1381, -6.7897) -> (5.6569, -6.364) centre (0, 0) ccw
  line L30 (5.6569, -6.364) -> (6.7175, -7.4246)
  line L31 (6.7175, -7.4246) -> (7.4246, -6.7175)
  line L32 (7.4246, -6.7175) -> (6.364, -5.6569)
  arc A11 (6.364, -5.6569) -> (6.7897, -5.1381) centre (0, 0) ccw
  line L33 (6.7897, -5.1381) -> (8.0369, -5.9714)
  line L34 (8.0369, -5.9714) -> (8.5925, -5.14)
  line L35 (8.5925, -5.14) -> (7.3453, -4.3066)
  arc A12 (7.3453, -4.3066) -> (7.6616, -3.7147) centre (0, 0) ccw
  line L36 (7.6616, -3.7147) -> (9.0475, -4.2888)
  line L37 (9.0475, -4.2888) -> (9.4301, -3.3649)
  line L38 (9.4301, -3.3649) -> (8.0443, -2.7909)
  arc A13 (8.0443, -2.7909) -> (8.2391, -2.1487) centre (0, 0) ccw
  line L39 (8.2391, -2.1487) -> (9.7103, -2.4413)
  line L40 (9.7103, -2.4413) -> (9.9054, -1.4605)
  line L41 (9.9054, -1.4605) -> (8.4342, -1.1679)
  arc A14 (8.4342, -1.1679) -> (8.5, -0.5) centre (0, 0) ccw
  line L42 (8.5, -0.5) -> (10, -0.5)
  line L43 (10, -0.5) -> (10, 0.5)
  line L44 (10, 0.5) -> (8.5, 0.5)
  arc A15 (8.5, 0.5) -> (8.4342, 1.1679) centre (0, 0) ccw
  line L45 (8.4342, 1.1679) -> (9.9054, 1.4605)
  line L46 (9.9054, 1.4605) -> (9.7103, 2.4413)
  line L47 (9.7103, 2.4413) -> (8.2391, 2.1487)
  arc A16 (8.2391, 2.1487) -> (8.0443, 2.7909) centre (0, 0) ccw
  line L48 (8.0443, 2.7909) -> (9.4301, 3.3649)
  line L49 (9.4301, 3.3649) -> (9.0475, 4.2888)
  line L50 (9.0475, 4.2888) -> (7.6616, 3.7147)
  arc A17 (7.6616, 3.7147) -> (7.3453, 4.3066) centre (0, 0) ccw
  line L51 (7.3453, 4.3066) -> (8.5925, 5.14)
  line L52 (8.5925, 5.14) -> (8.0369, 5.9714)
  line L53 (8.0369, 5.9714) -> (6.7897, 5.1381)
  arc A18 (6.7897, 5.1381) -> (6.364, 5.6569) centre (0, 0) ccw
  line L54 (6.364, 5.6569) -> (7.4246, 6.7175)
  line L55 (7.4246, 6.7175) -> (6.7175, 7.4246)
  line L56 (6.7175, 7.4246) -> (5.6569, 6.364)
  arc A19 (5.6569, 6.364) -> (5.1381, 6.7897) centre (0, 0) ccw
  line L57 (5.1381, 6.7897) -> (5.9714, 8.0369)
  line L58 (5.9714, 8.0369) -> (5.14, 8.5925)
  line L59 (5.14, 8.5925) -> (4.3066, 7.3453)
  arc A20 (4.3066, 7.3453) -> (3.7147, 7.6616) centre (0, 0) ccw
  line L60 (3.7147, 7.6616) -> (4.2888, 9.0475)
  line L61 (4.2888, 9.0475) -> (3.3649, 9.4301)
  line L62 (3.3649, 9.4301) -> (2.7909, 8.0443)
  arc A21 (2.7909, 8.0443) -> (2.1487, 8.2391) centre (0, 0) ccw
  line L63 (2.1487, 8.2391) -> (2.4413, 9.7103)
  line L64 (2.4413, 9.7103) -> (1.4605, 9.9054)
  line L65 (1.4605, 9.9054) -> (1.1679, 8.4342)
  arc A22 (1.1679, 8.4342) -> (0.5, 8.5) centre (0, 0) ccw
  line L66 (0.5, 8.5) -> (0.5, 10)
  line L67 (0.5, 10) -> (-0.5, 10)
  line L68 (-0.5, 10) -> (-0.5, 8.5)
  arc A23 (-0.5, 8.5) -> (-1.1679, 8.4342) centre (0, 0) ccw
  line L69 (-1.1679, 8.4342) -> (-1.4605, 9.9054)
  line L70 (-1.4605, 9.9054) -> (-2.4413, 9.7103)
  line L71 (-2.4413, 9.7103) -> (-2.1487, 8.2391)
  arc A24 (-2.1487, 8.2391) -> (-2.7909, 8.0443) centre (0, 0) ccw
  line L72 (-2.7909, 8.0443) -> (-3.3649, 9.4301)
  line L73 (-3.3649, 9.4301) -> (-4.2888, 9.0475)
  line L74 (-4.2888, 9.0475) -> (-3.7147, 7.6616)
  arc A25 (-3.7147, 7.6616) -> (-4.3066, 7.3453) centre (0, 0) ccw
  line L75 (-4.3066, 7.3453) -> (-5.14, 8.5925)
  line L76 (-5.14, 8.5925) -> (-5.9714, 8.0369)
  line L77 (-5.9714, 8.0369) -> (-5.1381, 6.7897)
  arc A26 (-5.1381, 6.7897) -> (-5.6569, 6.364) centre (0, 0) ccw
  line L78 (-5.6569, 6.364) -> (-6.7175, 7.4246)
  line L79 (-6.7175, 7.4246) -> (-7.4246, 6.7175)
  line L80 (-7.4246, 6.7175) -> (-6.364, 5.6569)
  arc A27 (-6.364, 5.6569) -> (-6.7897, 5.1381) centre (0, 0) ccw
  line L81 (-6.7897, 5.1381) -> (-8.0369, 5.9714)
  line L82 (-8.0369, 5.9714) -> (-8.5925, 5.14)
  line L83 (-8.5925, 5.14) -> (-7.3453, 4.3066)
  arc A28 (-7.3453, 4.3066) -> (-7.6616, 3.7147) centre (0, 0) ccw
  line L84 (-7.6616, 3.7147) -> (-9.0475, 4.2888)
  line L85 (-9.0475, 4.2888) -> (-9.4301, 3.3649)
  line L86 (-9.4301, 3.3649) -> (-8.0443, 2.7909)
  arc A29 (-8.0443, 2.7909) -> (-8.2391, 2.1487) centre (0, 0) ccw
  line L87 (-8.2391, 2.1487) -> (-9.7103, 2.4413)
  line L88 (-9.7103, 2.4413) -> (-9.9054, 1.4605)
  line L89 (-9.9054, 1.4605) -> (-8.4342, 1.1679)
  arc A30 (-8.4342, 1.1679) -> (-8.5, 0.5) centre (0, 0) ccw
  line L90 (-8.5, 0.5) -> (-10, 0.5)
  line L91 (-10, 0.5) -> (-10, -0.5)
  line L92 (-10, -0.5) -> (-8.5, -0.5)
  arc A31 (-8.5, -0.5) -> (-8.4342, -1.1679) centre (0, 0) ccw
  line L93 (-8.4342, -1.1679) -> (-9.9054, -1.4605)
  line L94 (-9.9054, -1.4605) -> (-9.7103, -2.4413)
  line L95 (-9.7103, -2.4413) -> (-8.2391, -2.1487)
  line L96 (1.4773, -2.2) -> (-1.4773, -2.2)
  arc A32 (1.4773, -2.2) -> (-1.4773, -2.2) centre (0, 0) ccw
  dimension "d8" = 5.3
  dimension "d12" = 2.2
extrude "Extrude2" cut sketch "Sketch2" against normal through all contours L96 A32
extrude "Extrude3" add sketch "Sketch1" along normal blind 2
extrude "Extrude4" add sketch "Sketch1" against normal blind 2 from surface at 15
